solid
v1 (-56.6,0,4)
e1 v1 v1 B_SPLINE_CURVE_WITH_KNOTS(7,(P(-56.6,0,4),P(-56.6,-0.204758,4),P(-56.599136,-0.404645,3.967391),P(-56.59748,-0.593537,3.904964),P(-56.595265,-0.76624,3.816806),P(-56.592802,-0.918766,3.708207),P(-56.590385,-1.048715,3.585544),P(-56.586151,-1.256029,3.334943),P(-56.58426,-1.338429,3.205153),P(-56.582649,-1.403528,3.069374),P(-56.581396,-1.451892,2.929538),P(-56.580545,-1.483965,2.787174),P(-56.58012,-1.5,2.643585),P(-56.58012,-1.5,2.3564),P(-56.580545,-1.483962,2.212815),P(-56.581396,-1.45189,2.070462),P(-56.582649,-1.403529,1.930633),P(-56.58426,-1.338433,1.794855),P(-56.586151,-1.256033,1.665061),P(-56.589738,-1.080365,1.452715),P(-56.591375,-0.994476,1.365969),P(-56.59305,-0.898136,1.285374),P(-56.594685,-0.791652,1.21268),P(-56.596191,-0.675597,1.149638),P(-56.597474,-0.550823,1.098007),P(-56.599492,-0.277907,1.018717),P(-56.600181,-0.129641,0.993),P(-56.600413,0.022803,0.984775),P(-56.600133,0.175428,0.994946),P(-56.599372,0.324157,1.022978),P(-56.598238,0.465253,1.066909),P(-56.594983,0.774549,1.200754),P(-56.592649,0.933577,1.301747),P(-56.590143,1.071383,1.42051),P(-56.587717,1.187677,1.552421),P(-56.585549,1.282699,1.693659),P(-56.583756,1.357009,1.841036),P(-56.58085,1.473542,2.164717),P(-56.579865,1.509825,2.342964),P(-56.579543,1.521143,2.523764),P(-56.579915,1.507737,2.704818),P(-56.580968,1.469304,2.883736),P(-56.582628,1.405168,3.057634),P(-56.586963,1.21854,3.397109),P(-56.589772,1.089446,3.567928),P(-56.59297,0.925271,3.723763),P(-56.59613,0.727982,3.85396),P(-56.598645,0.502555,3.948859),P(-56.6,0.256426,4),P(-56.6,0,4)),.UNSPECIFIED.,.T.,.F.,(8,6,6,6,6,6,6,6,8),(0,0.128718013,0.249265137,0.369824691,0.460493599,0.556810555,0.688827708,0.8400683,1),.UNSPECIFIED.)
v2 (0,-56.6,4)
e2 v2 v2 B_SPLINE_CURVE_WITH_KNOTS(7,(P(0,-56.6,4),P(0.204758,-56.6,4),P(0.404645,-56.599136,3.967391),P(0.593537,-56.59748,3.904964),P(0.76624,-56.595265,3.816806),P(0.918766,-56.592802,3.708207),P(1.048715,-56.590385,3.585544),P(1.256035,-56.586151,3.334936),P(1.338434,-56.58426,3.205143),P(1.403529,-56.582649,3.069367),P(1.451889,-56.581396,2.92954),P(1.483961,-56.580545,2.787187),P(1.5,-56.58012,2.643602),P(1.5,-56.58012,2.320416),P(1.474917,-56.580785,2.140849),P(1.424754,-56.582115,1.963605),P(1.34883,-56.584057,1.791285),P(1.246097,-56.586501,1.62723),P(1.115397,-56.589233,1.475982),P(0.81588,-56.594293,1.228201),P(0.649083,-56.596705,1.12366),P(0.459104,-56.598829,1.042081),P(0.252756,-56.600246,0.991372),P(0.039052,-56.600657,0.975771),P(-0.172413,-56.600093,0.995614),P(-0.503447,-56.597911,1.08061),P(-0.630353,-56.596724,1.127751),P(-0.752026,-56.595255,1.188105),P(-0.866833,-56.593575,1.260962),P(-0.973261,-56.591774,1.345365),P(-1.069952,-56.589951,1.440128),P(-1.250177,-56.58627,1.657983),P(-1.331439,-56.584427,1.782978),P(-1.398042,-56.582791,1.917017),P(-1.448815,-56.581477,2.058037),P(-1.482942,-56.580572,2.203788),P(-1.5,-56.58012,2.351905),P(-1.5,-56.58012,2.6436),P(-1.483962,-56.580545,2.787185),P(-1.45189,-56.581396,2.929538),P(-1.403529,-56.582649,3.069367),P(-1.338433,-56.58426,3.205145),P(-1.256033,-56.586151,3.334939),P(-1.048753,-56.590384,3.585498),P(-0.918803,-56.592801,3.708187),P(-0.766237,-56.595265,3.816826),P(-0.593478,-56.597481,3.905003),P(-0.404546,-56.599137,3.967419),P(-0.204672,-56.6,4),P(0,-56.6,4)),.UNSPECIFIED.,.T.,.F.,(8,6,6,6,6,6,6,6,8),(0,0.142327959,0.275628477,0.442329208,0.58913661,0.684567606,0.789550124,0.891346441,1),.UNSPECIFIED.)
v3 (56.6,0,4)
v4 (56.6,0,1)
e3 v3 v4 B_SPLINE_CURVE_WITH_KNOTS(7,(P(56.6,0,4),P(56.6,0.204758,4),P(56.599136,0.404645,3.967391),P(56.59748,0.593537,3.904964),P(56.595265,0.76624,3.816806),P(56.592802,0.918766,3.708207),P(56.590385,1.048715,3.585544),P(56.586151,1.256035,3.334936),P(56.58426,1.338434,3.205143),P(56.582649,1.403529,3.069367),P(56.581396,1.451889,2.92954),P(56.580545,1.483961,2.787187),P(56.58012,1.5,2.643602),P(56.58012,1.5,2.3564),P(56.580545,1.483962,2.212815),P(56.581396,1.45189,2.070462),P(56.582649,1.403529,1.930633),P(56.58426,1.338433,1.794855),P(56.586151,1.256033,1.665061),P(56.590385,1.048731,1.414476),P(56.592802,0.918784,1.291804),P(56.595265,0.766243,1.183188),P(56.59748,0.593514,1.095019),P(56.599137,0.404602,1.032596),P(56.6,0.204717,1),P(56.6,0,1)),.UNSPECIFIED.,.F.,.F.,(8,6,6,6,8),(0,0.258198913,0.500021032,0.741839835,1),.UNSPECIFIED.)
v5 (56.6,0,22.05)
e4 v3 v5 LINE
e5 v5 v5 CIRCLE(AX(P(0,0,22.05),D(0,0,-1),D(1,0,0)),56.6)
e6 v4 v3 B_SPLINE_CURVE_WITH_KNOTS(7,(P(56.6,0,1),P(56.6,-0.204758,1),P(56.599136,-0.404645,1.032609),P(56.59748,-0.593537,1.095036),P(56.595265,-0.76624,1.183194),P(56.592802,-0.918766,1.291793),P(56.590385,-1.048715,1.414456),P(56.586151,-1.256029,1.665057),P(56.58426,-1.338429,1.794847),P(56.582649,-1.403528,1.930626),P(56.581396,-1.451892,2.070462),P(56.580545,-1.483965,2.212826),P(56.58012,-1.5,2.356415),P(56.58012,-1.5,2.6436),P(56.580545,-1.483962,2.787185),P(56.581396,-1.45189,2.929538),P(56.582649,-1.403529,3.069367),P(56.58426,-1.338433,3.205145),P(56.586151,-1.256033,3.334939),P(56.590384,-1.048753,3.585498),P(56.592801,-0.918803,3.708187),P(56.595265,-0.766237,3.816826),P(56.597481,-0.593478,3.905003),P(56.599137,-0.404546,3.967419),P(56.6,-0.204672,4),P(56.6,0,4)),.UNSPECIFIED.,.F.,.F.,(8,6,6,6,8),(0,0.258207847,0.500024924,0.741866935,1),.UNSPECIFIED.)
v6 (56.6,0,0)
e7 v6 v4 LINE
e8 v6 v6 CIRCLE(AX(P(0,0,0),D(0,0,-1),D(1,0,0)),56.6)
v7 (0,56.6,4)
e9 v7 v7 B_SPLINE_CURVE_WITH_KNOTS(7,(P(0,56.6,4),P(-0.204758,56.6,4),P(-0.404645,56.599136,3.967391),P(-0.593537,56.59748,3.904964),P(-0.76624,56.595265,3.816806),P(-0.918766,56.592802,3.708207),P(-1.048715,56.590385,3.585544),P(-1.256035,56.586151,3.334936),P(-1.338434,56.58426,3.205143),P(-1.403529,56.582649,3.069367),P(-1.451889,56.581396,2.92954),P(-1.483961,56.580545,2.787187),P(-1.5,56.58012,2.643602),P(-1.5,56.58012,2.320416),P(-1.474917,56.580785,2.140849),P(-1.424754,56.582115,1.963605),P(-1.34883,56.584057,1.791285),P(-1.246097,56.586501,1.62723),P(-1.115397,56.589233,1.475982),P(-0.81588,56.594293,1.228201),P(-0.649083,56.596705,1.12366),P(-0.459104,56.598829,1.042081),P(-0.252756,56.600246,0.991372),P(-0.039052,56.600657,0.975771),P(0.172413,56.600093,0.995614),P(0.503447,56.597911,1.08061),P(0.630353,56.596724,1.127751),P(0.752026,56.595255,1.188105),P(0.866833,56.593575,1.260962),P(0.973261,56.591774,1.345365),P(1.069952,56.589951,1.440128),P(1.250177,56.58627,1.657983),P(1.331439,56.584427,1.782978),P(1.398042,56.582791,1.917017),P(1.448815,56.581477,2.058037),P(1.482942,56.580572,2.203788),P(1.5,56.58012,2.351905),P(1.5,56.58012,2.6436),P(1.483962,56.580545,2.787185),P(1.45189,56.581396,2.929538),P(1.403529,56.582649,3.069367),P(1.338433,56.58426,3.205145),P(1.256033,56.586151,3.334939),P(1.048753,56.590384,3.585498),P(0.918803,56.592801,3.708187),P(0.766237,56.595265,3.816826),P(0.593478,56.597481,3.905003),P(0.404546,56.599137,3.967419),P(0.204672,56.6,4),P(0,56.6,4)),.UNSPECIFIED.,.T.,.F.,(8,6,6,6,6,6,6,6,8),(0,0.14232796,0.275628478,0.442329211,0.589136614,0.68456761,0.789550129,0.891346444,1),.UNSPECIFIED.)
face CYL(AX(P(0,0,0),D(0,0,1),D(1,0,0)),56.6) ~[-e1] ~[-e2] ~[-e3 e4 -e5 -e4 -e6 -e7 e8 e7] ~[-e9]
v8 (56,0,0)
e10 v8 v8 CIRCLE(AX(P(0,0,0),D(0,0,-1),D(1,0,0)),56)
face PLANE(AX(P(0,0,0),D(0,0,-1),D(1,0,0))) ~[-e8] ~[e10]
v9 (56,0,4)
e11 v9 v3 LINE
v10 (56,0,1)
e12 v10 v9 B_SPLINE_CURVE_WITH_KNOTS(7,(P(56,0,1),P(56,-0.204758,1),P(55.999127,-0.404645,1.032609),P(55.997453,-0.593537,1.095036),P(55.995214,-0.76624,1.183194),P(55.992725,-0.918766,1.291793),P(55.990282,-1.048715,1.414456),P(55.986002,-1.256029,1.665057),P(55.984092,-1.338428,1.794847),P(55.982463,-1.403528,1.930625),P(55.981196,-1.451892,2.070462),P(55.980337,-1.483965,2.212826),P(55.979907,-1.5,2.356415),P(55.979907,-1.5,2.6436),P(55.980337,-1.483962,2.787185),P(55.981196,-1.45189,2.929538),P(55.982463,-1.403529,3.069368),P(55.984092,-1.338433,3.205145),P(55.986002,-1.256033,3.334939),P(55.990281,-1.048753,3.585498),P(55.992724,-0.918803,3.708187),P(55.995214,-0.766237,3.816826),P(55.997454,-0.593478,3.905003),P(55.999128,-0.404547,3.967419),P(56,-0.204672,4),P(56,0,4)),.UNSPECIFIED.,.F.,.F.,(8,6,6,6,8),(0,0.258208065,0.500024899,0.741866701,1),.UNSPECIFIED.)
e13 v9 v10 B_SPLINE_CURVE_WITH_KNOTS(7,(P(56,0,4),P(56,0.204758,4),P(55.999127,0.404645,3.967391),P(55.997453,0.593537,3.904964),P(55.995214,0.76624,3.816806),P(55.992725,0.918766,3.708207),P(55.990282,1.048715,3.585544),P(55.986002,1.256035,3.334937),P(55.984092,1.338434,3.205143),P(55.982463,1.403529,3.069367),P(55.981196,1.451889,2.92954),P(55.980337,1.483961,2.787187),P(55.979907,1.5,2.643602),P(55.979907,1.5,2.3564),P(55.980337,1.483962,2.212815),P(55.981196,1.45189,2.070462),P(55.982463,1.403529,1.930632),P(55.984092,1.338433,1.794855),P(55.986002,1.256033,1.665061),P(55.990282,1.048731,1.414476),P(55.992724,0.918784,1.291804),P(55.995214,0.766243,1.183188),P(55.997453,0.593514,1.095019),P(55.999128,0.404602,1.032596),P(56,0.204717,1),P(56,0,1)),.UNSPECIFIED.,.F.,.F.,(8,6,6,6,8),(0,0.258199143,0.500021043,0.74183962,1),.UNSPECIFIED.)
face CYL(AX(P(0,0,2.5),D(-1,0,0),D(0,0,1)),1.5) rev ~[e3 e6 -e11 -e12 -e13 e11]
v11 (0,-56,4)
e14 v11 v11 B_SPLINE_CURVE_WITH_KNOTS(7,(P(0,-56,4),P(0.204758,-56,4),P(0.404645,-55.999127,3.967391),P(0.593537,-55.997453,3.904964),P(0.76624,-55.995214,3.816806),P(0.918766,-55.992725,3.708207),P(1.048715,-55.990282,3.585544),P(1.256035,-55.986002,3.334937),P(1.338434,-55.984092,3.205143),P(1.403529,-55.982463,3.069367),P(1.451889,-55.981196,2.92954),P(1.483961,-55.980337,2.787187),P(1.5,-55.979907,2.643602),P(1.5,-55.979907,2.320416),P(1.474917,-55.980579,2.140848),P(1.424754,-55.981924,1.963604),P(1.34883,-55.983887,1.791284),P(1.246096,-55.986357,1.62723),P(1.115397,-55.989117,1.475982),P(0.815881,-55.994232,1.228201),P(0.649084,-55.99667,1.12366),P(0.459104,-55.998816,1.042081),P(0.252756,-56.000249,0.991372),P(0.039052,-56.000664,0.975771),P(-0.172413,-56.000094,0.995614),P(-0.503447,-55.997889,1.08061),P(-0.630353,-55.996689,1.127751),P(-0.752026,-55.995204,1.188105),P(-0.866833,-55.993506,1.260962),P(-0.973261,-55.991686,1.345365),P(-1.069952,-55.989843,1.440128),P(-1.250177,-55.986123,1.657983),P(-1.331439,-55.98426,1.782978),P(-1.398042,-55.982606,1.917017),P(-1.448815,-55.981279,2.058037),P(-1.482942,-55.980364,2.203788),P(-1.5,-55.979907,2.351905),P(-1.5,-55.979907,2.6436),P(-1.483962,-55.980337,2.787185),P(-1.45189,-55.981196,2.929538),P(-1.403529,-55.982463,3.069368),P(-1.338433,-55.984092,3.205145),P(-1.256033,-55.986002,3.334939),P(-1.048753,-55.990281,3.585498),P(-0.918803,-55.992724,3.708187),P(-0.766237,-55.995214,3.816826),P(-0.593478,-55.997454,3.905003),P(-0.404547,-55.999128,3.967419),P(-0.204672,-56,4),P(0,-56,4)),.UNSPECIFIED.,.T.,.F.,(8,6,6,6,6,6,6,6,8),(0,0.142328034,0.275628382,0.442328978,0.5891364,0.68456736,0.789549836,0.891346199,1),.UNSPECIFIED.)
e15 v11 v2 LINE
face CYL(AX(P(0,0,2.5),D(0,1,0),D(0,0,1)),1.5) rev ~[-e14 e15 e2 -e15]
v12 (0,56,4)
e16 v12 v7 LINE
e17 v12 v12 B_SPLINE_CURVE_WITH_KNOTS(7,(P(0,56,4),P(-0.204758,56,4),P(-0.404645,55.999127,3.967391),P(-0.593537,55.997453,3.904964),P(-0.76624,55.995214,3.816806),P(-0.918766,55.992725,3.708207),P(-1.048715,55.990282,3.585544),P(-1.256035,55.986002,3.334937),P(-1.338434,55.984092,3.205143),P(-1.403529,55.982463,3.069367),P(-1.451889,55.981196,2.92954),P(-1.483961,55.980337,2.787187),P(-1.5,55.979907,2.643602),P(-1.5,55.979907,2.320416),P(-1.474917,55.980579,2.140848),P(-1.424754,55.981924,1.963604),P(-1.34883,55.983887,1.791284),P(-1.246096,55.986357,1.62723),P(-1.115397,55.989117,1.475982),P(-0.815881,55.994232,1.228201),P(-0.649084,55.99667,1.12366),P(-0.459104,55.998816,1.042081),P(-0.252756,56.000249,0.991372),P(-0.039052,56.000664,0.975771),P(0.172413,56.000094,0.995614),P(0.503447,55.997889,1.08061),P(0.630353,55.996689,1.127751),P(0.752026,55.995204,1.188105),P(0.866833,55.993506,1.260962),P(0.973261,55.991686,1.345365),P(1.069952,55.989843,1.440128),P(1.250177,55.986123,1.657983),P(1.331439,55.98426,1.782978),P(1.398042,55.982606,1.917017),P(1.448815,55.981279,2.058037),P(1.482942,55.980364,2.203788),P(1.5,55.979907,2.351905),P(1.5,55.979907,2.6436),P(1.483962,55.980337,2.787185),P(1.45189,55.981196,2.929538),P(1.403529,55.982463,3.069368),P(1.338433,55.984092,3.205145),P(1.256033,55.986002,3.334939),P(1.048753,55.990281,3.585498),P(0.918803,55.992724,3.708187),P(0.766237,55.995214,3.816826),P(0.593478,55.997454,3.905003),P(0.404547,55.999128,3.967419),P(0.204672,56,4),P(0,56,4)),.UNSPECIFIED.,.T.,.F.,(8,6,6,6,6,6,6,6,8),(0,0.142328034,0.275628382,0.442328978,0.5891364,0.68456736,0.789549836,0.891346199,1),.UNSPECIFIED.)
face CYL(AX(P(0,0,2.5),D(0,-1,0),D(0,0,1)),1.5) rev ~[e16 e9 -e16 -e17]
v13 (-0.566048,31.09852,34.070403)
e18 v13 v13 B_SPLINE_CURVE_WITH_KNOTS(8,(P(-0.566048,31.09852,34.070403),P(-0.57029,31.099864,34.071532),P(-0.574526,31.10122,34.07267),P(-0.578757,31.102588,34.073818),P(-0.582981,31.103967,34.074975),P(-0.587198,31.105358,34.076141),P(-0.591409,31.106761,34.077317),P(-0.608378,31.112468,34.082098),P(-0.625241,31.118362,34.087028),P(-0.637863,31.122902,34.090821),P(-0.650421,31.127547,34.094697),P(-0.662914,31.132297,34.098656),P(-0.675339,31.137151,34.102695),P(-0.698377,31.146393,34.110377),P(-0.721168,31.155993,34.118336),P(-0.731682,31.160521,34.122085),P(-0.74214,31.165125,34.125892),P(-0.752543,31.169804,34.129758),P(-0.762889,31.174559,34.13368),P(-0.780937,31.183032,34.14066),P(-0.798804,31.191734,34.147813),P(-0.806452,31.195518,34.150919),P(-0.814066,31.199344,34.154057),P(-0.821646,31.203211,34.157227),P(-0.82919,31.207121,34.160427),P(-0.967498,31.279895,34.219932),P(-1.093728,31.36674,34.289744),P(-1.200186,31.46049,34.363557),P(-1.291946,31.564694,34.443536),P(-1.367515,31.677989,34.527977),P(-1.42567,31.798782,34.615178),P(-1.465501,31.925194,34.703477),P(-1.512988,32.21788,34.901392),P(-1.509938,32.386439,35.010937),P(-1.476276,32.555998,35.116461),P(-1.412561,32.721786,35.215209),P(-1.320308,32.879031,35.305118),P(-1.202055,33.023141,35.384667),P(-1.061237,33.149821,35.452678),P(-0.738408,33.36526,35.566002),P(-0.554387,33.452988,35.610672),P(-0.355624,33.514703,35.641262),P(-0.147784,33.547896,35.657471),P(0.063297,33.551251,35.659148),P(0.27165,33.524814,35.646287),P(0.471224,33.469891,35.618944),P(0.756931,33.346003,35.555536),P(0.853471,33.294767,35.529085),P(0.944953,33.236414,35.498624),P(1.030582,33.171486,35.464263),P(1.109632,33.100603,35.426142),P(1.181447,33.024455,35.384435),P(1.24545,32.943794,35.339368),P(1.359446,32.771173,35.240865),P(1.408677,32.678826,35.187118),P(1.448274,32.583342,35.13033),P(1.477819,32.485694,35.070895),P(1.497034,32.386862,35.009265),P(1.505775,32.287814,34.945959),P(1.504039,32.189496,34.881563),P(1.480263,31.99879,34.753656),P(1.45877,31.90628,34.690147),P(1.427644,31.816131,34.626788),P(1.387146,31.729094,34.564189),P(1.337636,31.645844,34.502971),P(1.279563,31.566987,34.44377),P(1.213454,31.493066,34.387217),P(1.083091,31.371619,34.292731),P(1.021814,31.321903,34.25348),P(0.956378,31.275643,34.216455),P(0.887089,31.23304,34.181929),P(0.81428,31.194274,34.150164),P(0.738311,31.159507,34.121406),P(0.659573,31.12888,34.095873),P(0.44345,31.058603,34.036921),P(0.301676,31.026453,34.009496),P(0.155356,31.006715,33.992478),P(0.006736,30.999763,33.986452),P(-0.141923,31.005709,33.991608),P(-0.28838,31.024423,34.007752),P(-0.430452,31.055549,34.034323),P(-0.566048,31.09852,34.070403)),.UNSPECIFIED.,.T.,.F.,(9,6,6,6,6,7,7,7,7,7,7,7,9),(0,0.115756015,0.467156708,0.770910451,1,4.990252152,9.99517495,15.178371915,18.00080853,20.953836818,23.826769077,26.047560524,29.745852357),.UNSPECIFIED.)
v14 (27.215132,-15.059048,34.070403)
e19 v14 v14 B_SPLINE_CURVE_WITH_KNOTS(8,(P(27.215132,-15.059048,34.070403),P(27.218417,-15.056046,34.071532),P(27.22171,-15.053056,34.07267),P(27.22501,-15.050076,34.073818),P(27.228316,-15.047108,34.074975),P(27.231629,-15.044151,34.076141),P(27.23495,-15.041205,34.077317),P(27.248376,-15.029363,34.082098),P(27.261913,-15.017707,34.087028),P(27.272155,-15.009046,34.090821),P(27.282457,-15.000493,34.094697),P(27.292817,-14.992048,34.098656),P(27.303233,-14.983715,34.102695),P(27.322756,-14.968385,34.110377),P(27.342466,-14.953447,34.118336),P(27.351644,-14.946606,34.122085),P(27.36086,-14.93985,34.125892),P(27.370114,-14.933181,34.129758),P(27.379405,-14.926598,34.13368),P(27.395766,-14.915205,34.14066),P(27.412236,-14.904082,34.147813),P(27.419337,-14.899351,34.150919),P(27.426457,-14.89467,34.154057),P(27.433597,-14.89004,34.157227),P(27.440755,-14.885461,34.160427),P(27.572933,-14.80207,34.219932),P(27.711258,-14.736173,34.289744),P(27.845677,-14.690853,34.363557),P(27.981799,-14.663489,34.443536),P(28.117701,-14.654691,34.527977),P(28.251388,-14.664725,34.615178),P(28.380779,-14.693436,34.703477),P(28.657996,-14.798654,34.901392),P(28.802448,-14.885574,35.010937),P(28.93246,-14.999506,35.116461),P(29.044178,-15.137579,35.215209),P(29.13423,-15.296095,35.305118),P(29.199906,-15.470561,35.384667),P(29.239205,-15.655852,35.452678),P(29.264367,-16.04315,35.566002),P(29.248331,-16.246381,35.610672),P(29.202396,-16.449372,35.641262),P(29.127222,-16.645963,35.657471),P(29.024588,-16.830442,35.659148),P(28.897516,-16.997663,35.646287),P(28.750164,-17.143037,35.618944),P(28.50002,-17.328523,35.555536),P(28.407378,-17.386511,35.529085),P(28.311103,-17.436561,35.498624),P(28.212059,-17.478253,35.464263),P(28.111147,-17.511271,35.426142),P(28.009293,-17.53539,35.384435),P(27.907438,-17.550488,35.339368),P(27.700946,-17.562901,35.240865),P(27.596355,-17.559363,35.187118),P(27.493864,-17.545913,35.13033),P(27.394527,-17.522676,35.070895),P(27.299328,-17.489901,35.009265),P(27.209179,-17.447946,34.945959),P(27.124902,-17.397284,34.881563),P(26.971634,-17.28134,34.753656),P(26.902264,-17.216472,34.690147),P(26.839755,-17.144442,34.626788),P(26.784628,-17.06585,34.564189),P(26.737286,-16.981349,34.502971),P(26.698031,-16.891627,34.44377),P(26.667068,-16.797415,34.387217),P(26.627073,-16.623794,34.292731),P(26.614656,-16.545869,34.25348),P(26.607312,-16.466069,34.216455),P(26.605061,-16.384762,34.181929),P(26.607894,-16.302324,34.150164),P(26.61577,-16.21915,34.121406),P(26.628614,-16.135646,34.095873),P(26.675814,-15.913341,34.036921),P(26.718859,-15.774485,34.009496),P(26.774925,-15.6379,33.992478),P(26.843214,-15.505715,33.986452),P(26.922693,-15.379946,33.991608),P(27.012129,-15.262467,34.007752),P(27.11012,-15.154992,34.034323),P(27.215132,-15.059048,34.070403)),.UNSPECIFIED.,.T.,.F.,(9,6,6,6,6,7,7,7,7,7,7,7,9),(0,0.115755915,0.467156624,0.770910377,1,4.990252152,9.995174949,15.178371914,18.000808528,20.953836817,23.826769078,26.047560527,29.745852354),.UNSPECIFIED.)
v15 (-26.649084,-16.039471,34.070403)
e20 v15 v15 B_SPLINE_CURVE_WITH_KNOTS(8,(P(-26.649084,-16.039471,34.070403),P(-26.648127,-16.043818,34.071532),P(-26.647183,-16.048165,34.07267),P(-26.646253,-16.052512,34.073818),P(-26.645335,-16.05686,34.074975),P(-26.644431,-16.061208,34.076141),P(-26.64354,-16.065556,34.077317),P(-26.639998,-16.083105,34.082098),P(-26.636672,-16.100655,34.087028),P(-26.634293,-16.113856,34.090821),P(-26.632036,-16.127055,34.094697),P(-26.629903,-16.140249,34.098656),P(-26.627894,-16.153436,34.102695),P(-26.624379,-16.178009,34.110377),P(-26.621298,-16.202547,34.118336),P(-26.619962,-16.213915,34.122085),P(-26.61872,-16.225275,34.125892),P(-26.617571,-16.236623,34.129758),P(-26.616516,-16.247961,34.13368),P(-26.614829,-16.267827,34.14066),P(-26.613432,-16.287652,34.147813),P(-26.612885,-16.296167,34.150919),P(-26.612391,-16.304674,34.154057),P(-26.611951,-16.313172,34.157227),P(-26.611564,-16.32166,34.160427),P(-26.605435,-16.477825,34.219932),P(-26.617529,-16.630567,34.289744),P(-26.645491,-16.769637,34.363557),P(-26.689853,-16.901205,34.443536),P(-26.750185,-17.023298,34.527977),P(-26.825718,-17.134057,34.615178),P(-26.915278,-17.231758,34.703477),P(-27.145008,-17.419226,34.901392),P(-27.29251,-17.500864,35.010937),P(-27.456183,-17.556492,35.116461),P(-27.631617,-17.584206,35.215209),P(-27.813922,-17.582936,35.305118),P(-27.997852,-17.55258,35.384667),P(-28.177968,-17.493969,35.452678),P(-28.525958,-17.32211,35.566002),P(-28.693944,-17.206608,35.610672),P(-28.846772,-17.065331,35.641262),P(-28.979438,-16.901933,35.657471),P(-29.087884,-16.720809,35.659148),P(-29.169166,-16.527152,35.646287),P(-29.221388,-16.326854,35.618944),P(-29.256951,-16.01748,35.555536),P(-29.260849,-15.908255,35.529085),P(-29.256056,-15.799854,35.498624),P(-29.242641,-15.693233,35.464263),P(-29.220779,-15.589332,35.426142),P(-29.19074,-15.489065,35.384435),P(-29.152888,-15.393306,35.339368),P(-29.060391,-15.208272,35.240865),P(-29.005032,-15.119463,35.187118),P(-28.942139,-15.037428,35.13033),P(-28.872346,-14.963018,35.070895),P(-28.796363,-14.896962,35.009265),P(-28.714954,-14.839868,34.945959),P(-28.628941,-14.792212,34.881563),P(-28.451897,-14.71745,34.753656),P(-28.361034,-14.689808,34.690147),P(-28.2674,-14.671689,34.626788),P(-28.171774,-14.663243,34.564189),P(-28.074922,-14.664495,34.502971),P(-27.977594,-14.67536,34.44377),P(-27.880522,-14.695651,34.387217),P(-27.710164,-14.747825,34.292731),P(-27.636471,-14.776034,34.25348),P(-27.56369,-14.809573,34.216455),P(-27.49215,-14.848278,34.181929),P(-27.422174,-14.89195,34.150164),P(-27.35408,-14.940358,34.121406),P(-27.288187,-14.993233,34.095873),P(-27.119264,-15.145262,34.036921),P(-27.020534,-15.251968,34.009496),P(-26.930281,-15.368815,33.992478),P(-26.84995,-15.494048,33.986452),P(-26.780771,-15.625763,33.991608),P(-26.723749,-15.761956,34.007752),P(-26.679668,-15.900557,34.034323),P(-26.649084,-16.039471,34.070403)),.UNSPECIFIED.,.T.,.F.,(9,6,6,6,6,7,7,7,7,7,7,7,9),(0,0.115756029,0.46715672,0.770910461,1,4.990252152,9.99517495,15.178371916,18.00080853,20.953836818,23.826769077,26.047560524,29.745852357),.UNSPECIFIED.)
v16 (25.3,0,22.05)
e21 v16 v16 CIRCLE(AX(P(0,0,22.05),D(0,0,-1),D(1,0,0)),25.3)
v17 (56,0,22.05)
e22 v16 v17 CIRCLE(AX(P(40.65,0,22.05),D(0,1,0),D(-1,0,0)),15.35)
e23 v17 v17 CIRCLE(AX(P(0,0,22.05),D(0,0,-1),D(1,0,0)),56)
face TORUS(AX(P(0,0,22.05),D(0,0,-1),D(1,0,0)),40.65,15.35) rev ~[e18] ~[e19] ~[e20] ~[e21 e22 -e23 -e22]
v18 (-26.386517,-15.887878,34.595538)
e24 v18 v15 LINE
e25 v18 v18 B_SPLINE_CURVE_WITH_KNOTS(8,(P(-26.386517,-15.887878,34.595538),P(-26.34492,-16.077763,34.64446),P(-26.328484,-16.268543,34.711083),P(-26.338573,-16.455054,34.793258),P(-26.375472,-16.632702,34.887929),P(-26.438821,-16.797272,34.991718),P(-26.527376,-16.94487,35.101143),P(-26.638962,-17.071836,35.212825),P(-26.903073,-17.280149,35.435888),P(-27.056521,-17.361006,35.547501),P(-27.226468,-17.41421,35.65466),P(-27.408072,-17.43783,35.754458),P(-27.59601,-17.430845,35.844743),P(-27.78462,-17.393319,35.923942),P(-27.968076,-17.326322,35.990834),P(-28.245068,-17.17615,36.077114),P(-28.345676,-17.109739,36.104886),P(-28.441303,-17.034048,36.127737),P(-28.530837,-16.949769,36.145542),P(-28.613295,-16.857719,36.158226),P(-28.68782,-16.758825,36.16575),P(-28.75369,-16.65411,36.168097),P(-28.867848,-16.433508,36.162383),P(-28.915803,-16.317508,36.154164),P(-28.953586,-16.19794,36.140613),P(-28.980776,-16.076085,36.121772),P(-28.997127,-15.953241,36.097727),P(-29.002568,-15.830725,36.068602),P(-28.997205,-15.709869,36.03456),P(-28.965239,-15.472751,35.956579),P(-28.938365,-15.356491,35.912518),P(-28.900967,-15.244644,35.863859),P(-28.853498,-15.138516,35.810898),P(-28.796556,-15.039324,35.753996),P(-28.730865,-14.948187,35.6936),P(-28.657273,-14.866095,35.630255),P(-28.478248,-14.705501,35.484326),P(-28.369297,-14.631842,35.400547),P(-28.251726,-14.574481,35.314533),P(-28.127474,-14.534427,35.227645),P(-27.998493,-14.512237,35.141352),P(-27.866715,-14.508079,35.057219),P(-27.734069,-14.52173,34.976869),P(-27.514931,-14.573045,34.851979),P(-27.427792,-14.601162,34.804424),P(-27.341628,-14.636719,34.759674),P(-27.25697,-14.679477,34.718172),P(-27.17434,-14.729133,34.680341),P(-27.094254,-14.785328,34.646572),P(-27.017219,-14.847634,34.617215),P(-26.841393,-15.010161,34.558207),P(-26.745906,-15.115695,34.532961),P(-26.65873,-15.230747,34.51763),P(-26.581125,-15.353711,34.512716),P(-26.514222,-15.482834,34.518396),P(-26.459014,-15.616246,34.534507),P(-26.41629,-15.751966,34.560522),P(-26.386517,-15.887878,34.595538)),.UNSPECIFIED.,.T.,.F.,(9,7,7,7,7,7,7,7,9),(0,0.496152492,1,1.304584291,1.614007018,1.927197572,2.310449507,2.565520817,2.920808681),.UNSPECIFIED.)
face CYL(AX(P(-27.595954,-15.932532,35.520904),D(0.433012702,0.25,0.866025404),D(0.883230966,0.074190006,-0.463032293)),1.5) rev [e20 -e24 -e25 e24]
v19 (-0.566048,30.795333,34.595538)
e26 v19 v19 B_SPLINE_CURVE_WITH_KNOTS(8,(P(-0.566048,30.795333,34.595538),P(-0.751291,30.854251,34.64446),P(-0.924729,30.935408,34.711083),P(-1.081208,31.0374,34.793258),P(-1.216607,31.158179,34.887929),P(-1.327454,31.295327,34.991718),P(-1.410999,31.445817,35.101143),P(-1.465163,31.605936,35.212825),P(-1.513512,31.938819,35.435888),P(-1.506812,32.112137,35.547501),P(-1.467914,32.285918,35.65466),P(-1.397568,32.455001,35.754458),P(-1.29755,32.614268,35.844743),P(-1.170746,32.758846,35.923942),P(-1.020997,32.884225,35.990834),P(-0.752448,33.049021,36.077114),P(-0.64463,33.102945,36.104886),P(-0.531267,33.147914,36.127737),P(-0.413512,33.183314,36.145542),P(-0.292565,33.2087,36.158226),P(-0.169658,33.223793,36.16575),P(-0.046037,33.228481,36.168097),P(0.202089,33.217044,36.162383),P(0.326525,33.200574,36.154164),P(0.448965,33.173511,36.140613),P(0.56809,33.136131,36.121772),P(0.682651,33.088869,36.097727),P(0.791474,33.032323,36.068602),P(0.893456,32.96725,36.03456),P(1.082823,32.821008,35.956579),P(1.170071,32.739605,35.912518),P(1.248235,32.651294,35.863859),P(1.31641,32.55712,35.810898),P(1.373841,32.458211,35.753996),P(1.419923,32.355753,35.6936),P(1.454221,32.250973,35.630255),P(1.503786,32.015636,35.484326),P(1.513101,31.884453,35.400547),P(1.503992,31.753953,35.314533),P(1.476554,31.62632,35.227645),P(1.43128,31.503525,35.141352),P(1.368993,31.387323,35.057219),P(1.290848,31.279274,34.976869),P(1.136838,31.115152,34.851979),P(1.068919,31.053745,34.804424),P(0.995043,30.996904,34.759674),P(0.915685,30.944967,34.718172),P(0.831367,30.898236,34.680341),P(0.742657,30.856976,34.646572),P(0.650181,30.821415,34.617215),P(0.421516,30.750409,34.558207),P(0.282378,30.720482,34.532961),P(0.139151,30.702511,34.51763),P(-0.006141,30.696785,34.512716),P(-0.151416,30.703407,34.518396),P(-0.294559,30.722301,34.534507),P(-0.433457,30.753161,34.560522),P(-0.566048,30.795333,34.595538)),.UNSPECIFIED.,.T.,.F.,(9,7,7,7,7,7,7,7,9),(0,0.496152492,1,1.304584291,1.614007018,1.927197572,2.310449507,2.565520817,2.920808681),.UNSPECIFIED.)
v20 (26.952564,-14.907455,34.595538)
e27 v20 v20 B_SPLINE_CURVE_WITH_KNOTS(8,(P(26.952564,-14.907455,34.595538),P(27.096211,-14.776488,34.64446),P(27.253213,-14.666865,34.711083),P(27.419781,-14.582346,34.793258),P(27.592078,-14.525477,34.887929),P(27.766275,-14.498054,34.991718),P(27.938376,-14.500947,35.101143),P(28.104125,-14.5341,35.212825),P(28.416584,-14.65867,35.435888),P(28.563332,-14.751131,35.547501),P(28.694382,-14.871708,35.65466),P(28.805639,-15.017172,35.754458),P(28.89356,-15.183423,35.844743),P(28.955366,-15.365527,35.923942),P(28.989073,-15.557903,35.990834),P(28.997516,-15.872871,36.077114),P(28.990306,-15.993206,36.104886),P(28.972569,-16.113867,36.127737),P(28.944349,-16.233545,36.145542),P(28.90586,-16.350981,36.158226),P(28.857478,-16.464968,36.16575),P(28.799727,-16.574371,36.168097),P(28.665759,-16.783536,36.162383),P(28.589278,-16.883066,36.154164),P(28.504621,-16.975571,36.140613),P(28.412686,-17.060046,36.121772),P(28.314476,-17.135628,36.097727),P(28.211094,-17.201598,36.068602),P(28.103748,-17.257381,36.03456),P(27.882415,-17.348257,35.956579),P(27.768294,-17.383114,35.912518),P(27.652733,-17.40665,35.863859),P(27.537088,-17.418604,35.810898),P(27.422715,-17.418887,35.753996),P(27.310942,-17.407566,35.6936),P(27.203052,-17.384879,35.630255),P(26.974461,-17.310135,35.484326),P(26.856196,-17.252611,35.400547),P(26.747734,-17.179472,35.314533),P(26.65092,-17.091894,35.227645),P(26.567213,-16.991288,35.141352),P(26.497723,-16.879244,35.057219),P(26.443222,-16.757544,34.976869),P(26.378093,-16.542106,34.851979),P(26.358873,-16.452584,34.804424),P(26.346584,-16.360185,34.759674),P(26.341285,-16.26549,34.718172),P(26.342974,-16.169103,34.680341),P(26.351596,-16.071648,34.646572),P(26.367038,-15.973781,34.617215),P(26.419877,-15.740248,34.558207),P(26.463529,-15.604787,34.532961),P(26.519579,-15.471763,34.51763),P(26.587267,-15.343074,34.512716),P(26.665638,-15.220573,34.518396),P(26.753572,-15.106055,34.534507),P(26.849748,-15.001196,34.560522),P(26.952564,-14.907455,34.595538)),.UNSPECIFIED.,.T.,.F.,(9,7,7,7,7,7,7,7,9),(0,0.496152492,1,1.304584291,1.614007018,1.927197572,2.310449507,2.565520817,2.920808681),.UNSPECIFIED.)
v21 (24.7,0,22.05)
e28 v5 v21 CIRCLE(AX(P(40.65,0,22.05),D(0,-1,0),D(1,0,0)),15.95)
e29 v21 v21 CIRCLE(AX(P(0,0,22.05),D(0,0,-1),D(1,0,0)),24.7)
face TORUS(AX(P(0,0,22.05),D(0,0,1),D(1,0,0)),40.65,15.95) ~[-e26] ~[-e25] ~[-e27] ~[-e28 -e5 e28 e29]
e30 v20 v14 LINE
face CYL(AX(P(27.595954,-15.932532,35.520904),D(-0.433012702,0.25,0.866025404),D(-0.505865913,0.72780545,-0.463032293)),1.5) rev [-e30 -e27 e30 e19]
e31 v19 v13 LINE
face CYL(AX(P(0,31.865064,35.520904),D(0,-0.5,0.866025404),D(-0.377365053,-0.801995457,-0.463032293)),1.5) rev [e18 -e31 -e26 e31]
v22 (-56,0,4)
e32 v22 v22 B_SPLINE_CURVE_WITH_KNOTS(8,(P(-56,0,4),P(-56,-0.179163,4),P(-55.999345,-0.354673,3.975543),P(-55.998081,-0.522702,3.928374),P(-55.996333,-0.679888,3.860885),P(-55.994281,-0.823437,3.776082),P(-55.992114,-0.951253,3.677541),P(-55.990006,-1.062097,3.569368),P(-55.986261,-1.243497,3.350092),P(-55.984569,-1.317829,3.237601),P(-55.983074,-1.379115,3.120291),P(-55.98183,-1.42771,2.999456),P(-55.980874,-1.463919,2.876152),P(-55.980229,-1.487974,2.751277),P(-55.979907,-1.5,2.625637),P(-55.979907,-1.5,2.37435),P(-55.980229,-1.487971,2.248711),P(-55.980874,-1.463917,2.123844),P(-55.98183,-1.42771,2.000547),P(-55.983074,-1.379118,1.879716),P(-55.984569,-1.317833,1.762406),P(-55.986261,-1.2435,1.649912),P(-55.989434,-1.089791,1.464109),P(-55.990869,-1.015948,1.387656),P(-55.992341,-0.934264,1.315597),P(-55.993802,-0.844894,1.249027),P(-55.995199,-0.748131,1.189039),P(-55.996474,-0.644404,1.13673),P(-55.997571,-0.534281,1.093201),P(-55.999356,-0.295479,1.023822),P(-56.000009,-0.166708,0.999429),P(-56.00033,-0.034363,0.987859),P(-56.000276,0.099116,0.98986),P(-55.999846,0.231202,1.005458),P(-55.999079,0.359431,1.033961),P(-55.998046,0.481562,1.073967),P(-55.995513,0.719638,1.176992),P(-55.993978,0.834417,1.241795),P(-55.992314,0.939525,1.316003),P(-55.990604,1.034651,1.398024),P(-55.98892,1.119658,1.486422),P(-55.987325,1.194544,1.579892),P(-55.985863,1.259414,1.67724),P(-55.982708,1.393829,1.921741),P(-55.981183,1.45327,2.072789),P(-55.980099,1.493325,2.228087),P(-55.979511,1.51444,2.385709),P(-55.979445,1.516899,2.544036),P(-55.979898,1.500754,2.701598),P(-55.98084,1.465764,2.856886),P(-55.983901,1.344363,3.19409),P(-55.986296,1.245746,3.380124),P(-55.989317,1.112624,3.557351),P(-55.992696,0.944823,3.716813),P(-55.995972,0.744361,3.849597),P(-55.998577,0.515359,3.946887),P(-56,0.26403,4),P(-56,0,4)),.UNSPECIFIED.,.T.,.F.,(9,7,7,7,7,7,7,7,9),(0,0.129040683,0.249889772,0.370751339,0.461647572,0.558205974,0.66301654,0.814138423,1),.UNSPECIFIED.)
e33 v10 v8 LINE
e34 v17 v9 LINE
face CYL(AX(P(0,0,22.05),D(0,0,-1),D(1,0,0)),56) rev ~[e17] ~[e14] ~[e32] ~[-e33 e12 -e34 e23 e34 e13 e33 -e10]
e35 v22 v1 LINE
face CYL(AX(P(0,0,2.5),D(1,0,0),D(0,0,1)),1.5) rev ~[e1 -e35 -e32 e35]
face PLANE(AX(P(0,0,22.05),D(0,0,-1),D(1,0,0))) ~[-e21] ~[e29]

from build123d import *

# Parameters (mm, degrees)
ESQUISSE2_R                  = 1.5
ENL_V_MAT_EXTRU_1_DEPTH      = 89.606546076
R_P_TITION_CIRCULAIRE1_COUNT = 4
ESQUISSE6_R                  = 1.5
ENL_V_MAT_EXTRU_5_DEPTH      = 3
R_P_TITION_CIRCULAIRE4_COUNT = 3


with BuildPart() as part:
    # Esquisse1 → Base-Révolution (revolve)
    with BuildSketch(Plane(origin=(0, 0, 0), x_dir=(0, 0, -1), z_dir=(1, 0, 0)), mode=Mode.PRIVATE) as base_r_volution_sk:
        with BuildLine():
            Line((0, 56.6), (-22.05, 56.6))
            ThreePointArc((-22.05, 56.6), (-38, 40.65), (-22.05, 24.7))
            Line((-22.05, 24.7), (-22.05, 25.3))
            ThreePointArc((-22.05, 25.3), (-37.4, 40.65), (-22.05, 56))
            Line((-22.05, 56), (0, 56))
            Line((0, 56), (0, 56.6))
        make_face()
    revolve(base_r_volution_sk.sketch.rotate(Axis((0, 0, 53.003727506), (0, 0, -1)), 90), axis=Axis((0, 0, 53.003727506), (0, 0, -1)))

    # Esquisse2 → Enlèv. mat.-Extru.1 (cut, through all)
    with BuildSketch(Plane(origin=(0, 0, 0), x_dir=(1, 0, 0), z_dir=(0, 1, 0))):
        with Locations(Location((0, -2.5, 0), (0, 0, 270))):
            Circle(ESQUISSE2_R)
    enl_v_mat_extru_1 = extrude(amount=-ENL_V_MAT_EXTRU_1_DEPTH, mode=Mode.SUBTRACT)

    # Répétition circulaire1: Enlèv. mat.-Extru.1 ×4 about axis
    r_p_tition_circulaire1_axis = Axis((0, 0, 53.003727506), (0, 0, -1))
    for i in range(1, R_P_TITION_CIRCULAIRE1_COUNT):
        add(enl_v_mat_extru_1.rotate(r_p_tition_circulaire1_axis, i * 360 / R_P_TITION_CIRCULAIRE1_COUNT), mode=Mode.SUBTRACT)

    # Esquisse6 → Enlèv. mat.-Extru.5 (cut)
    with BuildSketch(Plane(origin=(0, -7.41473671, 12.842700706), x_dir=(-1, 0, 0), z_dir=(0, 0.49999999999999806, -0.8660254037844397))):
        with Locations(Location((0, 45.356406461, 0), (0, 0, 292.170563159))):
            Circle(ESQUISSE6_R)
    enl_v_mat_extru_5 = extrude(amount=ENL_V_MAT_EXTRU_5_DEPTH, mode=Mode.SUBTRACT)

    # Répétition circulaire4: Enlèv. mat.-Extru.5 ×3 about axis
    r_p_tition_circulaire4_axis = Axis((0, 0, 53.003727506), (0, 0, -1))
    for i in range(1, R_P_TITION_CIRCULAIRE4_COUNT):
        add(enl_v_mat_extru_5.rotate(r_p_tition_circulaire4_axis, i * 360 / R_P_TITION_CIRCULAIRE4_COUNT), mode=Mode.SUBTRACT)


solid = part.part
